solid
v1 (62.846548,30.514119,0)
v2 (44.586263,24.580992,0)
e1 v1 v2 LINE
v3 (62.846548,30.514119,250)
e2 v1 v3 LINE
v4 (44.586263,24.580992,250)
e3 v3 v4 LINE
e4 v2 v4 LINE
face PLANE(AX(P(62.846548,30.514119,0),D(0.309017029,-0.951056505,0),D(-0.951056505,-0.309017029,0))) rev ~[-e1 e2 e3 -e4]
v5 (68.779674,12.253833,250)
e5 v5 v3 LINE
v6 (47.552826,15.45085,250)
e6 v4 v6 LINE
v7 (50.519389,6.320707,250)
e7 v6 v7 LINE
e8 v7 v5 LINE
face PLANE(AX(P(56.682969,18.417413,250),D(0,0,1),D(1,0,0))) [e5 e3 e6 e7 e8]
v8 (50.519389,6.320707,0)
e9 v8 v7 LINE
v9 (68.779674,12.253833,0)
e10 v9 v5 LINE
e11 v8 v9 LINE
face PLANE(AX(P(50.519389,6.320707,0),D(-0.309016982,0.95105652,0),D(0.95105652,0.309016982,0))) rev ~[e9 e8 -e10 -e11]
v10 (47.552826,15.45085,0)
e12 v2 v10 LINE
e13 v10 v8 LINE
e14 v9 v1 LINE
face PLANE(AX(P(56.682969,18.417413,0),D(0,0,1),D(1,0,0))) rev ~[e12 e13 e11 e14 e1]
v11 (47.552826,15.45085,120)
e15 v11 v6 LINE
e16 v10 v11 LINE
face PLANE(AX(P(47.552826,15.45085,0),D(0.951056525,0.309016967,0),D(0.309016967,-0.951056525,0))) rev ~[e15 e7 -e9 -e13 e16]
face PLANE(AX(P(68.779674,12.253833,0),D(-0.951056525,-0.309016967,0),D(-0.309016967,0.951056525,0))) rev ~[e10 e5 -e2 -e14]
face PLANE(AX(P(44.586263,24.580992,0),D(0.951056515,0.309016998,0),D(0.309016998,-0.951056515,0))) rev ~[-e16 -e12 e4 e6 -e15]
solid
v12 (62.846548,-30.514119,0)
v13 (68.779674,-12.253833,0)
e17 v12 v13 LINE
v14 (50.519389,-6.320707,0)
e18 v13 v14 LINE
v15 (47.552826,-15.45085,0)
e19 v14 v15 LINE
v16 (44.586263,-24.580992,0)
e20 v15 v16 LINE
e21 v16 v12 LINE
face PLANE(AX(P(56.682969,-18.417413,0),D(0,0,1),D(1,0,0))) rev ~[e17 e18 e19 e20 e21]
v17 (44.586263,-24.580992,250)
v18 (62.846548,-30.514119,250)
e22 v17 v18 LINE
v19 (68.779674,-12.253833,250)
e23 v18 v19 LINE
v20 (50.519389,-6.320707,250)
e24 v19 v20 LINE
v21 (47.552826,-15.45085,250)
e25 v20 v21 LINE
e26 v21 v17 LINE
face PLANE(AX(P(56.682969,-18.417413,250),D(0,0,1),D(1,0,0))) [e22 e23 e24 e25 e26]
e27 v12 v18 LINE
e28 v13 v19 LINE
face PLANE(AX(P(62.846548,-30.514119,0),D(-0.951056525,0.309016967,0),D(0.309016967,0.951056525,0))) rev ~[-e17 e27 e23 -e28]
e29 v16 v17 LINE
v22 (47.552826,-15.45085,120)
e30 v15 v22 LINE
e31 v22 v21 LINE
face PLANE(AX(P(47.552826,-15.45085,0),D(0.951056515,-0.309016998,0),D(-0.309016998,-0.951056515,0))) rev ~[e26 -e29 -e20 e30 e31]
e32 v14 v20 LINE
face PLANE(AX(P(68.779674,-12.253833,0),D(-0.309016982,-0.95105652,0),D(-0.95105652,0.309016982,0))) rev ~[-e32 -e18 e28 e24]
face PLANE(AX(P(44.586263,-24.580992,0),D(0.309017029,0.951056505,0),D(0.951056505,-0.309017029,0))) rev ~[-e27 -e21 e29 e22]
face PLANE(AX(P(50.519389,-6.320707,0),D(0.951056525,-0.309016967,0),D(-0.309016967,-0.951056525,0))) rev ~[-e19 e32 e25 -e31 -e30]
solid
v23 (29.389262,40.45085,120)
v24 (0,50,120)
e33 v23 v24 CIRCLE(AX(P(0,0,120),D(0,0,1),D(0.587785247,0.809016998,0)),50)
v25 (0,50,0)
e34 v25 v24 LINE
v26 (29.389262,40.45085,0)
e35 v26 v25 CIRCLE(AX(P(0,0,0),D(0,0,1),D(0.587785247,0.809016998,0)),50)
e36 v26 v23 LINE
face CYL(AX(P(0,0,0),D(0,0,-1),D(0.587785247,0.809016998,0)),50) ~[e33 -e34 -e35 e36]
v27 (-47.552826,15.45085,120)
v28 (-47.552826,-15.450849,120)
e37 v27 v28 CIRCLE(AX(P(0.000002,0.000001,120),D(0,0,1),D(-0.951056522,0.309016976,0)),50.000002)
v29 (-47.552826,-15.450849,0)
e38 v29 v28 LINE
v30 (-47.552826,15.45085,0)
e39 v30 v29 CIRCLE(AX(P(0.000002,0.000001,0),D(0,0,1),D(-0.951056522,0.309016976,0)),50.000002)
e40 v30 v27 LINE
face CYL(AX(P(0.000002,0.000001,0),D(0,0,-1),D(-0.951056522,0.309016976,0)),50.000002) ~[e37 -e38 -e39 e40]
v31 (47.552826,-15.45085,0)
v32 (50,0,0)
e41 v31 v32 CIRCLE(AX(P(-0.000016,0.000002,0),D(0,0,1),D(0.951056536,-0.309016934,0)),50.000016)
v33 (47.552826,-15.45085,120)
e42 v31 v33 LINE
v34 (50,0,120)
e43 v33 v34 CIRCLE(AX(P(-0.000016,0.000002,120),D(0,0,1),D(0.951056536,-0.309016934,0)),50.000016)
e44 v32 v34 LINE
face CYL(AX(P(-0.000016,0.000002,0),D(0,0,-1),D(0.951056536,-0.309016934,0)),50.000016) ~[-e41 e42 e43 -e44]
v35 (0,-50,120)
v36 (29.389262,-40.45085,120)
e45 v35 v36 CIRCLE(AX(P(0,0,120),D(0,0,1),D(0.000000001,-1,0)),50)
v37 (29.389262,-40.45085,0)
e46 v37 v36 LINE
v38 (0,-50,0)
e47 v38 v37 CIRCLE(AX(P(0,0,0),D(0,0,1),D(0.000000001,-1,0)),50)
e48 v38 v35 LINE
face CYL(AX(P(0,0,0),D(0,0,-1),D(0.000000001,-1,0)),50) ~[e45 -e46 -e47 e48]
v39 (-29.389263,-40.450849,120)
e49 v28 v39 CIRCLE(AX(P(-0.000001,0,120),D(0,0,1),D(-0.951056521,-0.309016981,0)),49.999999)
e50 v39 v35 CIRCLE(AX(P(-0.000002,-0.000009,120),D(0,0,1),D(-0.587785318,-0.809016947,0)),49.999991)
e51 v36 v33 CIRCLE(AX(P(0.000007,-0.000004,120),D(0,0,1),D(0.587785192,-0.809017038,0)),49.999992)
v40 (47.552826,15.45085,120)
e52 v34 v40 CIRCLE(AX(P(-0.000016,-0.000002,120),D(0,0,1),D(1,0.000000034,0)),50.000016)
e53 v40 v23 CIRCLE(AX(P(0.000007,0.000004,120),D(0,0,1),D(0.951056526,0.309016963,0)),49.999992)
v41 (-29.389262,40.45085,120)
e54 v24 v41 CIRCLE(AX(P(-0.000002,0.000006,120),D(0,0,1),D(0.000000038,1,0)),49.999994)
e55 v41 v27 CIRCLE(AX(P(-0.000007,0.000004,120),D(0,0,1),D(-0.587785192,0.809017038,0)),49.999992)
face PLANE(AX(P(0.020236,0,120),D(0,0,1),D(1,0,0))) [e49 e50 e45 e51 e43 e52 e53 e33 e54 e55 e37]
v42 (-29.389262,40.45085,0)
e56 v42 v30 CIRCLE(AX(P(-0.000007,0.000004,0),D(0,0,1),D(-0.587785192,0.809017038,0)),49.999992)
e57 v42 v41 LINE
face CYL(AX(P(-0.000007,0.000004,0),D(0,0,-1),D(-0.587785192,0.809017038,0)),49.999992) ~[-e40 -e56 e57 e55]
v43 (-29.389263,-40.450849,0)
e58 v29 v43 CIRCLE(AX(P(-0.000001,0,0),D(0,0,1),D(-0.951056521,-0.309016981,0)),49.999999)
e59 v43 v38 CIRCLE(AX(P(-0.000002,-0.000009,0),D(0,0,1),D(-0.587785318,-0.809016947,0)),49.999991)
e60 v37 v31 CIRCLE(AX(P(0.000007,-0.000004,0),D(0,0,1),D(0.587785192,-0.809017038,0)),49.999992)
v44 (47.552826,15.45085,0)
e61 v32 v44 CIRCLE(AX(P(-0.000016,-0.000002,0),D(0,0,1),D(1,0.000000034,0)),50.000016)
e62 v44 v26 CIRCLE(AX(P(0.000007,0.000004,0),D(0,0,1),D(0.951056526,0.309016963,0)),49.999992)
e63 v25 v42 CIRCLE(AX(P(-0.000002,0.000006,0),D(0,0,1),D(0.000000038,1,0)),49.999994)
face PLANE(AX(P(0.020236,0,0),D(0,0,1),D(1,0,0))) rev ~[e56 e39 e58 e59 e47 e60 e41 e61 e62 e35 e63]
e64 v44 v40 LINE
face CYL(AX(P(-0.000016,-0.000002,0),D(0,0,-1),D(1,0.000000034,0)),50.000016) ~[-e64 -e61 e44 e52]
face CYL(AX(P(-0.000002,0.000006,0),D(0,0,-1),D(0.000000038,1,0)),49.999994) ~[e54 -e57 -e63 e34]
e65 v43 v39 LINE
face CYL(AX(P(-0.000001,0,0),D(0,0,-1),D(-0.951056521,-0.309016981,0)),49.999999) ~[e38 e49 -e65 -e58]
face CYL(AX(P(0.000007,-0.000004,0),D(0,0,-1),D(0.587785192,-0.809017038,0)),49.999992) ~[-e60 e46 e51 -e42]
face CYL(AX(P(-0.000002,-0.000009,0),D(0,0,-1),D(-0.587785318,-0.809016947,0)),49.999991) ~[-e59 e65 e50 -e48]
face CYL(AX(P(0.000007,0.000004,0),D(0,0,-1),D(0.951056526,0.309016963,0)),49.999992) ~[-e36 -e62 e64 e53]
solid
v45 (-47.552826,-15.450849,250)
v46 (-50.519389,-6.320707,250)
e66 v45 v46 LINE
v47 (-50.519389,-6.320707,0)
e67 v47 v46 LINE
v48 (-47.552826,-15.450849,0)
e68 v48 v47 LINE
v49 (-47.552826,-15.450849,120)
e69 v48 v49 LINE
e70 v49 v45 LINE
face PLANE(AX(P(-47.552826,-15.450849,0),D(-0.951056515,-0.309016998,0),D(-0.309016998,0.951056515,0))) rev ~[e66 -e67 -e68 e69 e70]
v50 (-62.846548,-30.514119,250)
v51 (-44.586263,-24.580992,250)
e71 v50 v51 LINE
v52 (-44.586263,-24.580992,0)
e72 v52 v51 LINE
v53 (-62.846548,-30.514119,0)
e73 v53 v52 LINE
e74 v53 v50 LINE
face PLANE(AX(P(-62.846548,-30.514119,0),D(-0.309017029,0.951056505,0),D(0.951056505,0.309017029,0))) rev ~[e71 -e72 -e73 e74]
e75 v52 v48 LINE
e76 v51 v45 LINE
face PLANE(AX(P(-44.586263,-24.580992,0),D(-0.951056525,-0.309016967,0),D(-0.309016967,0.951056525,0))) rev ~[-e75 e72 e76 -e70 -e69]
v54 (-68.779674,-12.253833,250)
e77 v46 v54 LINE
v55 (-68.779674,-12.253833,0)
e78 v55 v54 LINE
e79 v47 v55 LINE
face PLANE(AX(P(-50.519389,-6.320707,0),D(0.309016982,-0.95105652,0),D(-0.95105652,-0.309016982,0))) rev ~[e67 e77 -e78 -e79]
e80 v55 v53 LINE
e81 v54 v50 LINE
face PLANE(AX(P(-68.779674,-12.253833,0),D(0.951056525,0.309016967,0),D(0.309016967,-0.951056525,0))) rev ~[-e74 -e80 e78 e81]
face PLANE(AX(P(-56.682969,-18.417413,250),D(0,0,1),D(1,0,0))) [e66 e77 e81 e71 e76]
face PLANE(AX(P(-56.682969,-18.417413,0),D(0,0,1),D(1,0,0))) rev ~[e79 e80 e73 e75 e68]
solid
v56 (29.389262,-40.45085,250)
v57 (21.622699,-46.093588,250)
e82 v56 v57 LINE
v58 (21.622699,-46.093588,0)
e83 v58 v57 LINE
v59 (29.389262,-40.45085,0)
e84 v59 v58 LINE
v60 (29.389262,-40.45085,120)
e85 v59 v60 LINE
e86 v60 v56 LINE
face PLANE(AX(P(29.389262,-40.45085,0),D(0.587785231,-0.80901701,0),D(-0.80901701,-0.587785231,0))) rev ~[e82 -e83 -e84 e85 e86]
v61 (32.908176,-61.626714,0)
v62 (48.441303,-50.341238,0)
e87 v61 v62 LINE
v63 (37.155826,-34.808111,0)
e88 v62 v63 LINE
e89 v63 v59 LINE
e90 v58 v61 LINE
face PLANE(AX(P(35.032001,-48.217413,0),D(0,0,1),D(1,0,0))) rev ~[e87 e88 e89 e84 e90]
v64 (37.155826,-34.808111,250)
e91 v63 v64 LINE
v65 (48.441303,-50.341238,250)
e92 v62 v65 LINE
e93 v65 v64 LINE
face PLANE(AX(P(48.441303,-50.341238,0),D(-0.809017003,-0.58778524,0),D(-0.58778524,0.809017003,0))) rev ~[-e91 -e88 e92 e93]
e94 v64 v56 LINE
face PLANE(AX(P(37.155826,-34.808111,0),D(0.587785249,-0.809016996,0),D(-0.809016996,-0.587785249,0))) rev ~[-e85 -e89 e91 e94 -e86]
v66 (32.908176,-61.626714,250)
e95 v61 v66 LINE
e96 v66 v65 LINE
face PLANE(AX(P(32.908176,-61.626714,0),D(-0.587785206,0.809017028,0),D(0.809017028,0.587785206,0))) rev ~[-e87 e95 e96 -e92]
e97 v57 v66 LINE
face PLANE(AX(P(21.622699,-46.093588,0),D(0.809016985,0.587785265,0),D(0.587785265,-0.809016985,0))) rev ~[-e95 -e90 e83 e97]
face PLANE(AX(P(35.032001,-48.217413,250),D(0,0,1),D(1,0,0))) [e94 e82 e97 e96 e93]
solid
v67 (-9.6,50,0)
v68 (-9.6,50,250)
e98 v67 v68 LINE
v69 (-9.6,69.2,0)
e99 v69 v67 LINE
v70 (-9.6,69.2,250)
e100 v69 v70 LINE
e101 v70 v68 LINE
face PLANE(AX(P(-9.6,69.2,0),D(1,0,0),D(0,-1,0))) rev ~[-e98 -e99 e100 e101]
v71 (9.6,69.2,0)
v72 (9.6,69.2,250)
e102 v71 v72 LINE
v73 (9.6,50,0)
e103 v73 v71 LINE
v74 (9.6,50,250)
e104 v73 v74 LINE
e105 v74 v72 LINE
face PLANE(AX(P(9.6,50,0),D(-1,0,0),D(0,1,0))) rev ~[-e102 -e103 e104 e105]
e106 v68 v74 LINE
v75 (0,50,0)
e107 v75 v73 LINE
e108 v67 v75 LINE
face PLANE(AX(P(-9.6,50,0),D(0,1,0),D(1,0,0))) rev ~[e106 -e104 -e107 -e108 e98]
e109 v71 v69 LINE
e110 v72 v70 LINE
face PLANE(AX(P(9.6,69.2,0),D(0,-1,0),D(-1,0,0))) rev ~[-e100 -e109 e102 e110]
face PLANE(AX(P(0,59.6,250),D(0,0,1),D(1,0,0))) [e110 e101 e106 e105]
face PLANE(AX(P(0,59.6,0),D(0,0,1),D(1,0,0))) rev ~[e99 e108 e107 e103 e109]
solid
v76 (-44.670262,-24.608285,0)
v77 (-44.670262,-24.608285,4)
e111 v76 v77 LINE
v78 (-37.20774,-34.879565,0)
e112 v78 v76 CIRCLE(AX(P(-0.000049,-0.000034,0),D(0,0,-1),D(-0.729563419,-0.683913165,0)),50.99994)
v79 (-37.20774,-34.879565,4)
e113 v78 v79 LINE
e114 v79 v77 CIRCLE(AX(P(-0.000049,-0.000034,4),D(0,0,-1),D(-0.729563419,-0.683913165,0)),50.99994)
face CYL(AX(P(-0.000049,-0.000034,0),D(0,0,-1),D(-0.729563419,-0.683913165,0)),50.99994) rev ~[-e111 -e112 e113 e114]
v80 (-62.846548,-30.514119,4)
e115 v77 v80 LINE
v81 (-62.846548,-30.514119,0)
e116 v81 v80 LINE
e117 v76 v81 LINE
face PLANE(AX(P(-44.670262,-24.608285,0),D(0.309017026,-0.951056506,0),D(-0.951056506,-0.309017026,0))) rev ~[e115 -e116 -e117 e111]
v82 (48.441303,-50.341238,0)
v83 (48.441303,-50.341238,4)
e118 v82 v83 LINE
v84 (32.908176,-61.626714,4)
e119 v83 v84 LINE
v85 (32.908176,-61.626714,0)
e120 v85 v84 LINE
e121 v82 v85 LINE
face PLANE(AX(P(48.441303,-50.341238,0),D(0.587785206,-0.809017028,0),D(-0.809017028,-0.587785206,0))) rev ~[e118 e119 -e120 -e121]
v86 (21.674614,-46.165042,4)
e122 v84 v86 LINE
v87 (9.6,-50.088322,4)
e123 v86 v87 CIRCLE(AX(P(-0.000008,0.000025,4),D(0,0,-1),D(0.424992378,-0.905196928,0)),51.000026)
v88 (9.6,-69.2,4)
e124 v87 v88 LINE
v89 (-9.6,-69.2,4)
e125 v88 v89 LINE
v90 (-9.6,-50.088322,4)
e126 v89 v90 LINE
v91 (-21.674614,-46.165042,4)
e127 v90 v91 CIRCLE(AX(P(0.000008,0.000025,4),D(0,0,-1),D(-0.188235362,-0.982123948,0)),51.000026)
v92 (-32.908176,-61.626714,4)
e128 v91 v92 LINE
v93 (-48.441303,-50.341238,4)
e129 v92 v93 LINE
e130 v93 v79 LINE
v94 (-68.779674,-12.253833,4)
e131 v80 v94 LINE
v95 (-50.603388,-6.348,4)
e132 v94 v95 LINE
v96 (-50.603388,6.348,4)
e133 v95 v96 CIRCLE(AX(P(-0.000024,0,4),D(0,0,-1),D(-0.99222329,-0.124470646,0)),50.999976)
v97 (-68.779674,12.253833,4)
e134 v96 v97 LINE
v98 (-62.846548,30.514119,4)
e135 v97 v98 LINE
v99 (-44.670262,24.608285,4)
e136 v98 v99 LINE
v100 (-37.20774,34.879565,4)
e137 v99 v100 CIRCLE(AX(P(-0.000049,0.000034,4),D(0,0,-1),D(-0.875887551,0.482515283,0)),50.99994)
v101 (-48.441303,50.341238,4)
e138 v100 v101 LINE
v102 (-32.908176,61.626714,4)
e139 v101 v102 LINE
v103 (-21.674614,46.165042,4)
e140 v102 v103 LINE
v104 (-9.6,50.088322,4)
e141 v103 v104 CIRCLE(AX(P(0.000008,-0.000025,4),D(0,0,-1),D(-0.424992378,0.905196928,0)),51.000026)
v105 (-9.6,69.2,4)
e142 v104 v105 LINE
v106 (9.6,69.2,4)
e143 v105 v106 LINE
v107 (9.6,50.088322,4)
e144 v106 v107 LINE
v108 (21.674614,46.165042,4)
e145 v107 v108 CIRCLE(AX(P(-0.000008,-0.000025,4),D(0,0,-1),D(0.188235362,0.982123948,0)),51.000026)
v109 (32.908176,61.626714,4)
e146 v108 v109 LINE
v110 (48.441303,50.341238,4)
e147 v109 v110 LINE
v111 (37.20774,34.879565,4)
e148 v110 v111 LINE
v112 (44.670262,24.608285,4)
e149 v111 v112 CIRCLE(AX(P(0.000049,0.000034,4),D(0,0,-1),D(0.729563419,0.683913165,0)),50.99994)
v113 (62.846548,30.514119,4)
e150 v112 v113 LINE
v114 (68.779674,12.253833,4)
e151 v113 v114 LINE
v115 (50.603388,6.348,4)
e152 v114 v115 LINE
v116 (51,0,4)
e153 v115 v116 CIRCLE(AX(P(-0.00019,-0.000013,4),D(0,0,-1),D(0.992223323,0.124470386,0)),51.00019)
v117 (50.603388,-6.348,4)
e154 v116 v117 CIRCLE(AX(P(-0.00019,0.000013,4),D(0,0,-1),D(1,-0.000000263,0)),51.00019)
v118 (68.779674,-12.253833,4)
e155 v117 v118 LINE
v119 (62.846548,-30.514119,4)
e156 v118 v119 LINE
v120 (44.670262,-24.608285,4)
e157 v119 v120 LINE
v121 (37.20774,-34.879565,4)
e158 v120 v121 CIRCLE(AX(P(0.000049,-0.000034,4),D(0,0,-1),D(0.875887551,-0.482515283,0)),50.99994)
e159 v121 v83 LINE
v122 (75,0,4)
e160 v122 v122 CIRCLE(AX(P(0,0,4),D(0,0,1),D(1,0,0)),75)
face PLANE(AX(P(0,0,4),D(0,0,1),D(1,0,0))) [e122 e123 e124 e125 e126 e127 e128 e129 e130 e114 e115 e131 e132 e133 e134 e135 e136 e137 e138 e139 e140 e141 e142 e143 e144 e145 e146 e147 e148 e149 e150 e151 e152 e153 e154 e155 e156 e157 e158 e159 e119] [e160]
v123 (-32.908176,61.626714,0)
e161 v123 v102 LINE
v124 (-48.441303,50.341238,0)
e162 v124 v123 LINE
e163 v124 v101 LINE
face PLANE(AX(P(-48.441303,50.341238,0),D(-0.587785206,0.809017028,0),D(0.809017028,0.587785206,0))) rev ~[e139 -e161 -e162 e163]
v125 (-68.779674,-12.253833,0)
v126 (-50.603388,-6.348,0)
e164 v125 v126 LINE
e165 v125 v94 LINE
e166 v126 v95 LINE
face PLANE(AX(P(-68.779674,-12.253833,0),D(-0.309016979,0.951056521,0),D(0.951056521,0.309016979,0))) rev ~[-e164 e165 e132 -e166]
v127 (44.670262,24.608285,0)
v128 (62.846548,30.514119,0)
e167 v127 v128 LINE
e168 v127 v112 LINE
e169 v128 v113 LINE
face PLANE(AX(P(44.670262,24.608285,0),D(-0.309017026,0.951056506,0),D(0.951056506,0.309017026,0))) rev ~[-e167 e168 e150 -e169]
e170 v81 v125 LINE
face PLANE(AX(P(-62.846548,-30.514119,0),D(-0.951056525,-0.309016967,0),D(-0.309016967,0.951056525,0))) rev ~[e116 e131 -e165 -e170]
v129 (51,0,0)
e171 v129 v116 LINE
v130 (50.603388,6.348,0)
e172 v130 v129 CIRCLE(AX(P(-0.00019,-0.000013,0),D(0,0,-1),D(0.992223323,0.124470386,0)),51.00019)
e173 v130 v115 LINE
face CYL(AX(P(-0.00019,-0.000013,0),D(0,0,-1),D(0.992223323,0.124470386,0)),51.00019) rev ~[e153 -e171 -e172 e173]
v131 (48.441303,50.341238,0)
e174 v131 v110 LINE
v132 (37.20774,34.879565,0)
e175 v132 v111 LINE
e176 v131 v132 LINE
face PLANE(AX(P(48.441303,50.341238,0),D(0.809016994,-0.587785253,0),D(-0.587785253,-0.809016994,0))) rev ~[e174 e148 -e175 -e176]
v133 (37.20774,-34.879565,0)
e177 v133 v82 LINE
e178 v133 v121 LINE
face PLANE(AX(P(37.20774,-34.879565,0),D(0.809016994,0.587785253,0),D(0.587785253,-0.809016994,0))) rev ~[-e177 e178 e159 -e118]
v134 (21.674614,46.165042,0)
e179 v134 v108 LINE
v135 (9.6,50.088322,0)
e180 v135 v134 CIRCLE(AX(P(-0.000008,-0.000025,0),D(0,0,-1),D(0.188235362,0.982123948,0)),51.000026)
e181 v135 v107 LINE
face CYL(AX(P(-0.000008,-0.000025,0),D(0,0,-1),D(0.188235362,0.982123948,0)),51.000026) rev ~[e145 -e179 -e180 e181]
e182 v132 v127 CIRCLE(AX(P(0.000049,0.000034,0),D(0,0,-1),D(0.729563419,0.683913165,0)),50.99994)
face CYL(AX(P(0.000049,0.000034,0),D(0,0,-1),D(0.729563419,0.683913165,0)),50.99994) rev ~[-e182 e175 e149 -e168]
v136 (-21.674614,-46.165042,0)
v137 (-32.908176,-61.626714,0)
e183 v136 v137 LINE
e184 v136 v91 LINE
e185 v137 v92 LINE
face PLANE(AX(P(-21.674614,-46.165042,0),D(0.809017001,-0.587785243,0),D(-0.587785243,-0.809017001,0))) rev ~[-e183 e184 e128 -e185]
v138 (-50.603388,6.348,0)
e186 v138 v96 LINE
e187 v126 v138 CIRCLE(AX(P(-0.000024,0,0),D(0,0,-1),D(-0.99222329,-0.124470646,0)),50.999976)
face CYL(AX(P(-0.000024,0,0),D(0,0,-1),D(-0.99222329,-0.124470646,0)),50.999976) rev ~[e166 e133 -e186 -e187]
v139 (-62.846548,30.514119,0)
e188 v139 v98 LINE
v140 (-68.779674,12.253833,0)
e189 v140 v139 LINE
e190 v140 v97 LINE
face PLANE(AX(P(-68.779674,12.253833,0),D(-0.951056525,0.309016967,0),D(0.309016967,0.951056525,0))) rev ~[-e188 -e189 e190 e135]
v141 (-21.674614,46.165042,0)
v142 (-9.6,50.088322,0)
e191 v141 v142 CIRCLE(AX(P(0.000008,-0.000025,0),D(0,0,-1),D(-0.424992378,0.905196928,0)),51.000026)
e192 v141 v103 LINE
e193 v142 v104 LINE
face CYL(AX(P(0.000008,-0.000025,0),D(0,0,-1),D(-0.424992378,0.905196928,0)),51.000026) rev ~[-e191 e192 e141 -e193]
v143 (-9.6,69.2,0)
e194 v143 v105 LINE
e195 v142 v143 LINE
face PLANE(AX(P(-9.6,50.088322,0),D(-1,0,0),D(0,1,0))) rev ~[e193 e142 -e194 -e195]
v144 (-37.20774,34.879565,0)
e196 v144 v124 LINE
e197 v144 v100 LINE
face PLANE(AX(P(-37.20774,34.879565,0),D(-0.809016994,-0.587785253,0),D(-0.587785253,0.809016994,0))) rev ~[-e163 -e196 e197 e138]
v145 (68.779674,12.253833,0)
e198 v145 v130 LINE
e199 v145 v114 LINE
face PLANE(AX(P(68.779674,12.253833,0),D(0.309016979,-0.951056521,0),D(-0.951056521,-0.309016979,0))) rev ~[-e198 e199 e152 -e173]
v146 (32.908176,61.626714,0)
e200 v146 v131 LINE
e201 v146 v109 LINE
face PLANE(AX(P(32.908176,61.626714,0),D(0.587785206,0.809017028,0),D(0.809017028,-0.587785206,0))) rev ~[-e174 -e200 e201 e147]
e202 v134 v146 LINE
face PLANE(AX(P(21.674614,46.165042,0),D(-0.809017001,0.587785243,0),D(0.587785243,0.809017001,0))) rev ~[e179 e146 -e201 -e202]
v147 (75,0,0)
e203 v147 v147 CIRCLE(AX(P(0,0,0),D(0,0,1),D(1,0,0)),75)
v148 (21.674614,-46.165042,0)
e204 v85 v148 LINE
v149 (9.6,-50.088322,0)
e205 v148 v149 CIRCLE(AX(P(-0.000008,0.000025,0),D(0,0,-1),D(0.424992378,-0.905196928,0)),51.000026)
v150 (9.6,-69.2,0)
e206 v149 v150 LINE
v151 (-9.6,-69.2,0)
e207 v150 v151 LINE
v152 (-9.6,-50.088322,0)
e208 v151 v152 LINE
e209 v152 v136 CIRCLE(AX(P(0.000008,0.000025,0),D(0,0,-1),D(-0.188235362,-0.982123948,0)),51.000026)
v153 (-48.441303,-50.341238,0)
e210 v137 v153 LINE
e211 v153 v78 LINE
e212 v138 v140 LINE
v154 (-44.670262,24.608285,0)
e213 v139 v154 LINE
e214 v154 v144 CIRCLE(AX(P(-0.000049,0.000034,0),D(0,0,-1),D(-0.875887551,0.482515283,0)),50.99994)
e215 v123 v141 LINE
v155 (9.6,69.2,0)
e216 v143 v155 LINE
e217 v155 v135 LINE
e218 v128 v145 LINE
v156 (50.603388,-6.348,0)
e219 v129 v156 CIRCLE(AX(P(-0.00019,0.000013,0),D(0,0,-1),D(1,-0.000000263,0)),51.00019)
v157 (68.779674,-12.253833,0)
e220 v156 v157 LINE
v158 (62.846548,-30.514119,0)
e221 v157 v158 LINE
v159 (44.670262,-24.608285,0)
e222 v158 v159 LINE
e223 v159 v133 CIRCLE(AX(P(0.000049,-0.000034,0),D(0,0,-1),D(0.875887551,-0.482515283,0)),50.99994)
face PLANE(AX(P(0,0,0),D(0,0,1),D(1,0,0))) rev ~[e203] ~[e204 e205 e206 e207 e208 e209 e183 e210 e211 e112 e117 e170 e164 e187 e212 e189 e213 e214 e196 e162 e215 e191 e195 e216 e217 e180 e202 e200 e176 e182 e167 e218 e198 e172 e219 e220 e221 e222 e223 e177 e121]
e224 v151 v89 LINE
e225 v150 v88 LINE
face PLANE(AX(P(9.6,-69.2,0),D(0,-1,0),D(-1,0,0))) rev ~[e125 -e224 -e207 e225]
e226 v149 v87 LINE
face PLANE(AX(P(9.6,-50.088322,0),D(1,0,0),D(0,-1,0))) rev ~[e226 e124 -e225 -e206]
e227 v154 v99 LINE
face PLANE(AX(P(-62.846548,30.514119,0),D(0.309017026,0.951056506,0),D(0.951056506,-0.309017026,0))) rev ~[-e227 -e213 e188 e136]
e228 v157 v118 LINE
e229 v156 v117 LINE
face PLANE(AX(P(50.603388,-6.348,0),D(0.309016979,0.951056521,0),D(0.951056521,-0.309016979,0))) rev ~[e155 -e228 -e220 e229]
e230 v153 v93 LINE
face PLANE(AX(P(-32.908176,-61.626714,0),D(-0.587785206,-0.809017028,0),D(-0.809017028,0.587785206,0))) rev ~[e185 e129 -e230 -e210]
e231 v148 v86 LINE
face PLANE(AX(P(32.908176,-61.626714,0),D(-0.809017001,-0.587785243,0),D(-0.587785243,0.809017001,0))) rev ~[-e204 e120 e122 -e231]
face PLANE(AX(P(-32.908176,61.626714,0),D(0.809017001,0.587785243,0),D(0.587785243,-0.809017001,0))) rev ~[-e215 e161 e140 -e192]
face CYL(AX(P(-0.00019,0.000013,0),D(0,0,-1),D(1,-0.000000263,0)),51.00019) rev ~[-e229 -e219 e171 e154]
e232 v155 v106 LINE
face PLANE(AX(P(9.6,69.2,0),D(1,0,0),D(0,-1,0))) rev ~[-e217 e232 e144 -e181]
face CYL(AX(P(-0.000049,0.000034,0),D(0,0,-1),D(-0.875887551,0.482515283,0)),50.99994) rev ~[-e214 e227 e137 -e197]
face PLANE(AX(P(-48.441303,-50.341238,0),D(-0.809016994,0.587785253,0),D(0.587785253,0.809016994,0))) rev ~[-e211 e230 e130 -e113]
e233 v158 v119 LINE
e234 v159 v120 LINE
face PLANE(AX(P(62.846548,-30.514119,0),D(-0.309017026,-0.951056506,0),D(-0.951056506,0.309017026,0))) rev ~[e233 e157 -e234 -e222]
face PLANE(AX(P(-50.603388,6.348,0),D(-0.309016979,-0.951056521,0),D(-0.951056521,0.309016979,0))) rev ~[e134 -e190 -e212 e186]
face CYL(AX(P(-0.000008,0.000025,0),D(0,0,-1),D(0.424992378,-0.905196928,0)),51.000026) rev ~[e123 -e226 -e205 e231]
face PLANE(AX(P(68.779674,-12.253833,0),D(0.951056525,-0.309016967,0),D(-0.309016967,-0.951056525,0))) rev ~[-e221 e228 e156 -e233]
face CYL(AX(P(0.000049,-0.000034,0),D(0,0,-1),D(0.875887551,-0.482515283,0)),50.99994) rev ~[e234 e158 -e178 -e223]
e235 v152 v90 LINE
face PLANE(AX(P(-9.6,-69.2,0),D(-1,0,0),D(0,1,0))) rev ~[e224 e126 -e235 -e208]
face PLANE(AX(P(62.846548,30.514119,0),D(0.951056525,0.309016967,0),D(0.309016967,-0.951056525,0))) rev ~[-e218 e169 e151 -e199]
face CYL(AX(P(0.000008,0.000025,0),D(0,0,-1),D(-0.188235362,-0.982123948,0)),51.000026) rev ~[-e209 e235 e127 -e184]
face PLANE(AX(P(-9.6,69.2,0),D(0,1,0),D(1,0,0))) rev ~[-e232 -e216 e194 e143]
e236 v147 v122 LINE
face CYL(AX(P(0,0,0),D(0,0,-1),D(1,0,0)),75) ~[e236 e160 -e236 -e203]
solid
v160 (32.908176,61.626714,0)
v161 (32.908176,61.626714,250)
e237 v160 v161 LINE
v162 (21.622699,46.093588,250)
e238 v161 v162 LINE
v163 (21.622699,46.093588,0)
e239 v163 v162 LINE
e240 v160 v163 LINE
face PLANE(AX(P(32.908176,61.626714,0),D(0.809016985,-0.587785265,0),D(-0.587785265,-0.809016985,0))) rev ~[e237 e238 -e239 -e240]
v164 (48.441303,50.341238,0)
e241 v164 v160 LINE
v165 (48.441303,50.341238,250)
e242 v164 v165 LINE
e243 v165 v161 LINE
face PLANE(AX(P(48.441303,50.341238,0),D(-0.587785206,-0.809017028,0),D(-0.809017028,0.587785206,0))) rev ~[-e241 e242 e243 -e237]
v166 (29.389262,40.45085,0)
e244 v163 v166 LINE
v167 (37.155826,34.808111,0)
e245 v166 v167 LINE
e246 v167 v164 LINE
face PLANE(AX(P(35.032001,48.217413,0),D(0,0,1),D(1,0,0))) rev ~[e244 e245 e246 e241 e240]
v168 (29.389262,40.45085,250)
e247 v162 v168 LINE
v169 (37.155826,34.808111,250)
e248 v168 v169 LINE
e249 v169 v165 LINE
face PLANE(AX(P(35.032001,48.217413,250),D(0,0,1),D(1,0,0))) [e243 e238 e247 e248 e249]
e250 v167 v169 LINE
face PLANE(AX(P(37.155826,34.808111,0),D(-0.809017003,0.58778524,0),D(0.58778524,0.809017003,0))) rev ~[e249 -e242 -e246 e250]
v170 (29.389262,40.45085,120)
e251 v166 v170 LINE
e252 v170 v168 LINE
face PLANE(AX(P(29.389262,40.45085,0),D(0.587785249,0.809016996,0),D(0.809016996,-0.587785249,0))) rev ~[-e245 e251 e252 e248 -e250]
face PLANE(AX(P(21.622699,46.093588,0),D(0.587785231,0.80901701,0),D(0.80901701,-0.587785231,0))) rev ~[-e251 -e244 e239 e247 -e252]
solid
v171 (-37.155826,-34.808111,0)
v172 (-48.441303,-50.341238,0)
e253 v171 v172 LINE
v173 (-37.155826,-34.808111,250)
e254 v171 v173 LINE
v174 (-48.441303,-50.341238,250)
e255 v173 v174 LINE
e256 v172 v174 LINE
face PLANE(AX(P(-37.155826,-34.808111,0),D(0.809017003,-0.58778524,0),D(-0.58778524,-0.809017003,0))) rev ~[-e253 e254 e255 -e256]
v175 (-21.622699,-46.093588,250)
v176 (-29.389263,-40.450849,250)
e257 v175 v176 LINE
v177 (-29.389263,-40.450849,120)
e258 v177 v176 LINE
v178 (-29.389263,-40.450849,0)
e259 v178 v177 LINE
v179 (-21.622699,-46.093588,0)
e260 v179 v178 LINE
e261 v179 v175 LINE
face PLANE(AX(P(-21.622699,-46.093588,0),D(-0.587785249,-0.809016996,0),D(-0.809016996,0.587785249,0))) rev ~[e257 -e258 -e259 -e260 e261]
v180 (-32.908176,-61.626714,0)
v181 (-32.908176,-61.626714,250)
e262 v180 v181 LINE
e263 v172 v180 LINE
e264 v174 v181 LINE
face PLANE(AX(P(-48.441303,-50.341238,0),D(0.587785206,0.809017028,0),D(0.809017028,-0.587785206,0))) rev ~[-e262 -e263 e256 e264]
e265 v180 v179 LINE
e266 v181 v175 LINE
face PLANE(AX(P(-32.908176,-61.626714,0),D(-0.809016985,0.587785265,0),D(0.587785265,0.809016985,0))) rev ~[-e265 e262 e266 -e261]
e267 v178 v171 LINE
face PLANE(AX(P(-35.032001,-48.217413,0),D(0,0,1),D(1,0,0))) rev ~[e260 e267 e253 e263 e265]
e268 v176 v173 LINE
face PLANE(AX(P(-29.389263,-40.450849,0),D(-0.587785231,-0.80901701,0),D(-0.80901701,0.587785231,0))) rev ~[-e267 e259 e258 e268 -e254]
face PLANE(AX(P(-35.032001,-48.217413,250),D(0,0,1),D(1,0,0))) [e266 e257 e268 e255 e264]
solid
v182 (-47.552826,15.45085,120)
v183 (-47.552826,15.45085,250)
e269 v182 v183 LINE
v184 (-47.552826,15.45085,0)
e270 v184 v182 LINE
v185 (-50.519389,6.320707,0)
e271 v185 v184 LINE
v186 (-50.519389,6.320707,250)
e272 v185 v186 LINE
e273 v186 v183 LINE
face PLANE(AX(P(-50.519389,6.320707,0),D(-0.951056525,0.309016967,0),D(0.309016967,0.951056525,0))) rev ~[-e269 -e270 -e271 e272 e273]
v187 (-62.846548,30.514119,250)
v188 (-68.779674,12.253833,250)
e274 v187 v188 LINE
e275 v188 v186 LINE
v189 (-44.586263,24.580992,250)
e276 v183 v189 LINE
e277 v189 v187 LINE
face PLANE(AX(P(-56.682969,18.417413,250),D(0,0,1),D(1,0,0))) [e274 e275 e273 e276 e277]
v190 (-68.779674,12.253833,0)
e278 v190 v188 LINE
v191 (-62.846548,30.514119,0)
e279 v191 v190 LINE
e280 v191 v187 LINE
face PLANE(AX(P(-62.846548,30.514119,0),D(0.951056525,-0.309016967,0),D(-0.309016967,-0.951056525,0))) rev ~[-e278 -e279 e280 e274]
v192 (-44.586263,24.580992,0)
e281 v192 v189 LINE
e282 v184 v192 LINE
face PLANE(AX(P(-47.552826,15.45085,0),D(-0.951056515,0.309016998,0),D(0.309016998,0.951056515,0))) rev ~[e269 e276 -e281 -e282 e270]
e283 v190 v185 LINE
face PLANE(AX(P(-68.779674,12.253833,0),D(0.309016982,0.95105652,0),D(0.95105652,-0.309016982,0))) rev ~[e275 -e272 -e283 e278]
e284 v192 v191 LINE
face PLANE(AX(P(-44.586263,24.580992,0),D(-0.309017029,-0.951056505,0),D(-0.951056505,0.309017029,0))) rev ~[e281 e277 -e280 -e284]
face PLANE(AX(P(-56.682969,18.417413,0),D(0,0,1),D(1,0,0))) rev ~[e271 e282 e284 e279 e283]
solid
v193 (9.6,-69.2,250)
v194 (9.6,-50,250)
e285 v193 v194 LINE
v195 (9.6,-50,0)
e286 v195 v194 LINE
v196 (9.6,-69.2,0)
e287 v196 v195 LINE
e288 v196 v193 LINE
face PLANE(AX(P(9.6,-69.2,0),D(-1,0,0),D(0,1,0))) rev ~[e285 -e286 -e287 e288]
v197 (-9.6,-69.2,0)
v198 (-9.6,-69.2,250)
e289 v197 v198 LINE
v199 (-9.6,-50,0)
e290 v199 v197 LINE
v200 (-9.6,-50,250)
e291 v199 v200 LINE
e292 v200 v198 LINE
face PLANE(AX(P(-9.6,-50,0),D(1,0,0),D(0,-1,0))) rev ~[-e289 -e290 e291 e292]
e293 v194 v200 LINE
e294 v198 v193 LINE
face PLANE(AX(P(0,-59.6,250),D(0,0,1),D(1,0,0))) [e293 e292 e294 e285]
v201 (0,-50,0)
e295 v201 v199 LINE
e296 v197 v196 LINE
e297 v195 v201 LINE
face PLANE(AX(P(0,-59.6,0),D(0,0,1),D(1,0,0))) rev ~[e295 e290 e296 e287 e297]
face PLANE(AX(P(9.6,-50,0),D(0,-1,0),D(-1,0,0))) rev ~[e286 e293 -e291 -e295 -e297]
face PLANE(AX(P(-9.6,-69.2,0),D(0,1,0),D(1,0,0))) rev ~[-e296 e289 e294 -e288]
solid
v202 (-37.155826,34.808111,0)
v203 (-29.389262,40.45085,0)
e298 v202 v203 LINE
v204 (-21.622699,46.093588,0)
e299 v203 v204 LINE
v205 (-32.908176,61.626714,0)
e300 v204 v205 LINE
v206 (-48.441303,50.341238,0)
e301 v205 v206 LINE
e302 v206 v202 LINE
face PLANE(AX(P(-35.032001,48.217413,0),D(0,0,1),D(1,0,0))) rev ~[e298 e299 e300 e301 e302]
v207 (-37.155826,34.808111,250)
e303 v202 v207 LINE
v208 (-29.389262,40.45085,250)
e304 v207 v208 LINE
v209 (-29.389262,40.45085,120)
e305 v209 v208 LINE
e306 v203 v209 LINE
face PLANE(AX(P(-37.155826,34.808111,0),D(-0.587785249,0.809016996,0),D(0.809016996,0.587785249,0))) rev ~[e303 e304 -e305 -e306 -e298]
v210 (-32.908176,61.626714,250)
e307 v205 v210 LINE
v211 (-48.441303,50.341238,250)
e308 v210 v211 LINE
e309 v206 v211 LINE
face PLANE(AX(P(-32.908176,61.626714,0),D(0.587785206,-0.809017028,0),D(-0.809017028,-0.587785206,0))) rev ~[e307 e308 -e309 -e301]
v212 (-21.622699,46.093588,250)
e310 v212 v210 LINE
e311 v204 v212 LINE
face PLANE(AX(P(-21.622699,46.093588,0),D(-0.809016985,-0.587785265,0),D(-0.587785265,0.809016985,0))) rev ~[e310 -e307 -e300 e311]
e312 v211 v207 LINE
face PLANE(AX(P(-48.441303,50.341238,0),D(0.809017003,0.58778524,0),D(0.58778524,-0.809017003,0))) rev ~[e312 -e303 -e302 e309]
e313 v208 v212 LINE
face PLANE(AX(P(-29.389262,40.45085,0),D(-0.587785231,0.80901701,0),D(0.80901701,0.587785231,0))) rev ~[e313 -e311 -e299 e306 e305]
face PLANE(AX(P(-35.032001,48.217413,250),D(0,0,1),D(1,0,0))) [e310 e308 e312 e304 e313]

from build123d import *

# Parameters (mm, degrees)
F1_DEPTH = 120
F2_DEPTH = 250
F3_R     = 75
F4_DEPTH = 4


with BuildPart() as f1:
    # F0 (on Top) → F1 (new body)
    with BuildSketch(Plane.XY):
        with BuildLine():
            ThreePointArc((47.552826, -15.45085), (49.384417, -7.821723), (50, 0))
            ThreePointArc((50, 0), (49.384417, 7.821723), (47.552826, 15.45085))
            ThreePointArc((47.552826, 15.45085), (40.45085, 29.389263), (29.389262, 40.45085))
            ThreePointArc((29.389262, 40.45085), (15.450849, 47.552826), (0, 50))
            ThreePointArc((0, 50), (-15.45085, 47.552826), (-29.389262, 40.45085))
            ThreePointArc((-29.389262, 40.45085), (-40.45085, 29.389263), (-47.552826, 15.45085))
            ThreePointArc((-47.552826, 15.45085), (-50, 1e-06), (-47.552826, -15.450849))
            ThreePointArc((-47.552826, -15.450849), (-40.45085, -29.389262), (-29.389263, -40.450849))
            ThreePointArc((-29.389263, -40.450849), (-15.45085, -47.552826), (0, -50))
            ThreePointArc((0, -50), (15.450849, -47.552826), (29.389262, -40.45085))
            ThreePointArc((29.389262, -40.45085), (40.45085, -29.389263), (47.552826, -15.45085))
        make_face()
    extrude(amount=F1_DEPTH)

    # F0 (on Top) → F2 (join)
    with BuildSketch(Plane.XY):
        Polygon((-21.622699, -46.093588), (-29.389263, -40.450849), (-37.155826, -34.808111), (-48.441303, -50.341238), (-32.908176, -61.626714), align=None)
        Polygon((-44.586263, -24.580992), (-47.552826, -15.450849), (-50.519389, -6.320707), (-68.779674, -12.253833), (-62.846548, -30.514119), align=None)
        Polygon((9.6, -50), (0, -50), (-9.6, -50), (-9.6, -69.2), (9.6, -69.2), align=None)
        Polygon((37.155826, -34.808111), (29.389262, -40.45085), (21.622699, -46.093588), (32.908176, -61.626714), (48.441303, -50.341238), align=None)
        Polygon((50.519389, -6.320707), (47.552826, -15.45085), (44.586263, -24.580992), (62.846548, -30.514119), (68.779674, -12.253833), align=None)
        Polygon((44.586263, 24.580992), (47.552826, 15.45085), (50.519389, 6.320707), (68.779674, 12.253833), (62.846548, 30.514119), align=None)
        Polygon((21.622699, 46.093588), (29.389262, 40.45085), (37.155826, 34.808111), (48.441303, 50.341238), (32.908176, 61.626714), align=None)
        Polygon((-9.6, 50), (0, 50), (9.6, 50), (9.6, 69.2), (-9.6, 69.2), align=None)
        Polygon((-37.155826, 34.808111), (-29.389262, 40.45085), (-21.622699, 46.093588), (-32.908176, 61.626714), (-48.441303, 50.341238), align=None)
        Polygon((-50.519389, 6.320707), (-47.552826, 15.45085), (-44.586263, 24.580992), (-62.846548, 30.514119), (-68.779674, 12.253833), align=None)
    extrude(amount=F2_DEPTH)


with BuildPart() as f4:
    # F3 (on Top) → F4 (new body)
    with BuildSketch(Plane.XY):
        Circle(F3_R)
        with BuildLine():
            Line((9.6, 69.2), (9.6, 50.088322))
            ThreePointArc((9.6, 50.088322), (15.759867, 48.503882), (21.674614, 46.165042))
            Line((21.674614, 46.165042), (32.908176, 61.626714))
            Line((32.908176, 61.626714), (48.441303, 50.341238))
            Line((48.441303, 50.341238), (37.20774, 34.879565))
            ThreePointArc((37.20774, 34.879565), (41.259867, 29.977048), (44.670262, 24.608285))
            Line((44.670262, 24.608285), (62.846548, 30.514119))
            Line((62.846548, 30.514119), (68.779674, 12.253833))
            Line((68.779674, 12.253833), (50.603388, 6.348))
            ThreePointArc((50.603388, 6.348), (50.90075, 3.180189), (51, 0))
            ThreePointArc((51, 0), (50.90075, -3.180189), (50.603388, -6.348))
            Line((50.603388, -6.348), (68.779674, -12.253833))
            Line((68.779674, -12.253833), (62.846548, -30.514119))
            Line((62.846548, -30.514119), (44.670262, -24.608285))
            ThreePointArc((44.670262, -24.608285), (41.259867, -29.977048), (37.20774, -34.879565))
            Line((37.20774, -34.879565), (48.441303, -50.341238))
            Line((48.441303, -50.341238), (32.908176, -61.626714))
            Line((32.908176, -61.626714), (21.674614, -46.165042))
            ThreePointArc((21.674614, -46.165042), (15.759867, -48.503882), (9.6, -50.088322))
            Line((9.6, -50.088322), (9.6, -69.2))
            Line((9.6, -69.2), (-9.6, -69.2))
            Line((-9.6, -69.2), (-9.6, -50.088322))
            ThreePointArc((-9.6, -50.088322), (-15.759867, -48.503882), (-21.674614, -46.165042))
            Line((-21.674614, -46.165042), (-32.908176, -61.626714))
            Line((-32.908176, -61.626714), (-48.441303, -50.341238))
            Line((-48.441303, -50.341238), (-37.20774, -34.879565))
            ThreePointArc((-37.20774, -34.879565), (-41.259867, -29.977048), (-44.670262, -24.608285))
            Line((-44.670262, -24.608285), (-62.846548, -30.514119))
            Line((-62.846548, -30.514119), (-68.779674, -12.253833))
            Line((-68.779674, -12.253833), (-50.603388, -6.348))
            ThreePointArc((-50.603388, -6.348), (-51, 0), (-50.603388, 6.348))
            Line((-50.603388, 6.348), (-68.779674, 12.253833))
            Line((-68.779674, 12.253833), (-62.846548, 30.514119))
            Line((-62.846548, 30.514119), (-44.670262, 24.608285))
            ThreePointArc((-44.670262, 24.608285), (-41.259867, 29.977048), (-37.20774, 34.879565))
            Line((-37.20774, 34.879565), (-48.441303, 50.341238))
            Line((-48.441303, 50.341238), (-32.908176, 61.626714))
            Line((-32.908176, 61.626714), (-21.674614, 46.165042))
            ThreePointArc((-21.674614, 46.165042), (-15.759867, 48.503882), (-9.6, 50.088322))
            Line((-9.6, 50.088322), (-9.6, 69.2))
            Line((-9.6, 69.2), (9.6, 69.2))
        make_face(mode=Mode.SUBTRACT)
    extrude(amount=F4_DEPTH)


solid = Compound([f1.part, f4.part])
